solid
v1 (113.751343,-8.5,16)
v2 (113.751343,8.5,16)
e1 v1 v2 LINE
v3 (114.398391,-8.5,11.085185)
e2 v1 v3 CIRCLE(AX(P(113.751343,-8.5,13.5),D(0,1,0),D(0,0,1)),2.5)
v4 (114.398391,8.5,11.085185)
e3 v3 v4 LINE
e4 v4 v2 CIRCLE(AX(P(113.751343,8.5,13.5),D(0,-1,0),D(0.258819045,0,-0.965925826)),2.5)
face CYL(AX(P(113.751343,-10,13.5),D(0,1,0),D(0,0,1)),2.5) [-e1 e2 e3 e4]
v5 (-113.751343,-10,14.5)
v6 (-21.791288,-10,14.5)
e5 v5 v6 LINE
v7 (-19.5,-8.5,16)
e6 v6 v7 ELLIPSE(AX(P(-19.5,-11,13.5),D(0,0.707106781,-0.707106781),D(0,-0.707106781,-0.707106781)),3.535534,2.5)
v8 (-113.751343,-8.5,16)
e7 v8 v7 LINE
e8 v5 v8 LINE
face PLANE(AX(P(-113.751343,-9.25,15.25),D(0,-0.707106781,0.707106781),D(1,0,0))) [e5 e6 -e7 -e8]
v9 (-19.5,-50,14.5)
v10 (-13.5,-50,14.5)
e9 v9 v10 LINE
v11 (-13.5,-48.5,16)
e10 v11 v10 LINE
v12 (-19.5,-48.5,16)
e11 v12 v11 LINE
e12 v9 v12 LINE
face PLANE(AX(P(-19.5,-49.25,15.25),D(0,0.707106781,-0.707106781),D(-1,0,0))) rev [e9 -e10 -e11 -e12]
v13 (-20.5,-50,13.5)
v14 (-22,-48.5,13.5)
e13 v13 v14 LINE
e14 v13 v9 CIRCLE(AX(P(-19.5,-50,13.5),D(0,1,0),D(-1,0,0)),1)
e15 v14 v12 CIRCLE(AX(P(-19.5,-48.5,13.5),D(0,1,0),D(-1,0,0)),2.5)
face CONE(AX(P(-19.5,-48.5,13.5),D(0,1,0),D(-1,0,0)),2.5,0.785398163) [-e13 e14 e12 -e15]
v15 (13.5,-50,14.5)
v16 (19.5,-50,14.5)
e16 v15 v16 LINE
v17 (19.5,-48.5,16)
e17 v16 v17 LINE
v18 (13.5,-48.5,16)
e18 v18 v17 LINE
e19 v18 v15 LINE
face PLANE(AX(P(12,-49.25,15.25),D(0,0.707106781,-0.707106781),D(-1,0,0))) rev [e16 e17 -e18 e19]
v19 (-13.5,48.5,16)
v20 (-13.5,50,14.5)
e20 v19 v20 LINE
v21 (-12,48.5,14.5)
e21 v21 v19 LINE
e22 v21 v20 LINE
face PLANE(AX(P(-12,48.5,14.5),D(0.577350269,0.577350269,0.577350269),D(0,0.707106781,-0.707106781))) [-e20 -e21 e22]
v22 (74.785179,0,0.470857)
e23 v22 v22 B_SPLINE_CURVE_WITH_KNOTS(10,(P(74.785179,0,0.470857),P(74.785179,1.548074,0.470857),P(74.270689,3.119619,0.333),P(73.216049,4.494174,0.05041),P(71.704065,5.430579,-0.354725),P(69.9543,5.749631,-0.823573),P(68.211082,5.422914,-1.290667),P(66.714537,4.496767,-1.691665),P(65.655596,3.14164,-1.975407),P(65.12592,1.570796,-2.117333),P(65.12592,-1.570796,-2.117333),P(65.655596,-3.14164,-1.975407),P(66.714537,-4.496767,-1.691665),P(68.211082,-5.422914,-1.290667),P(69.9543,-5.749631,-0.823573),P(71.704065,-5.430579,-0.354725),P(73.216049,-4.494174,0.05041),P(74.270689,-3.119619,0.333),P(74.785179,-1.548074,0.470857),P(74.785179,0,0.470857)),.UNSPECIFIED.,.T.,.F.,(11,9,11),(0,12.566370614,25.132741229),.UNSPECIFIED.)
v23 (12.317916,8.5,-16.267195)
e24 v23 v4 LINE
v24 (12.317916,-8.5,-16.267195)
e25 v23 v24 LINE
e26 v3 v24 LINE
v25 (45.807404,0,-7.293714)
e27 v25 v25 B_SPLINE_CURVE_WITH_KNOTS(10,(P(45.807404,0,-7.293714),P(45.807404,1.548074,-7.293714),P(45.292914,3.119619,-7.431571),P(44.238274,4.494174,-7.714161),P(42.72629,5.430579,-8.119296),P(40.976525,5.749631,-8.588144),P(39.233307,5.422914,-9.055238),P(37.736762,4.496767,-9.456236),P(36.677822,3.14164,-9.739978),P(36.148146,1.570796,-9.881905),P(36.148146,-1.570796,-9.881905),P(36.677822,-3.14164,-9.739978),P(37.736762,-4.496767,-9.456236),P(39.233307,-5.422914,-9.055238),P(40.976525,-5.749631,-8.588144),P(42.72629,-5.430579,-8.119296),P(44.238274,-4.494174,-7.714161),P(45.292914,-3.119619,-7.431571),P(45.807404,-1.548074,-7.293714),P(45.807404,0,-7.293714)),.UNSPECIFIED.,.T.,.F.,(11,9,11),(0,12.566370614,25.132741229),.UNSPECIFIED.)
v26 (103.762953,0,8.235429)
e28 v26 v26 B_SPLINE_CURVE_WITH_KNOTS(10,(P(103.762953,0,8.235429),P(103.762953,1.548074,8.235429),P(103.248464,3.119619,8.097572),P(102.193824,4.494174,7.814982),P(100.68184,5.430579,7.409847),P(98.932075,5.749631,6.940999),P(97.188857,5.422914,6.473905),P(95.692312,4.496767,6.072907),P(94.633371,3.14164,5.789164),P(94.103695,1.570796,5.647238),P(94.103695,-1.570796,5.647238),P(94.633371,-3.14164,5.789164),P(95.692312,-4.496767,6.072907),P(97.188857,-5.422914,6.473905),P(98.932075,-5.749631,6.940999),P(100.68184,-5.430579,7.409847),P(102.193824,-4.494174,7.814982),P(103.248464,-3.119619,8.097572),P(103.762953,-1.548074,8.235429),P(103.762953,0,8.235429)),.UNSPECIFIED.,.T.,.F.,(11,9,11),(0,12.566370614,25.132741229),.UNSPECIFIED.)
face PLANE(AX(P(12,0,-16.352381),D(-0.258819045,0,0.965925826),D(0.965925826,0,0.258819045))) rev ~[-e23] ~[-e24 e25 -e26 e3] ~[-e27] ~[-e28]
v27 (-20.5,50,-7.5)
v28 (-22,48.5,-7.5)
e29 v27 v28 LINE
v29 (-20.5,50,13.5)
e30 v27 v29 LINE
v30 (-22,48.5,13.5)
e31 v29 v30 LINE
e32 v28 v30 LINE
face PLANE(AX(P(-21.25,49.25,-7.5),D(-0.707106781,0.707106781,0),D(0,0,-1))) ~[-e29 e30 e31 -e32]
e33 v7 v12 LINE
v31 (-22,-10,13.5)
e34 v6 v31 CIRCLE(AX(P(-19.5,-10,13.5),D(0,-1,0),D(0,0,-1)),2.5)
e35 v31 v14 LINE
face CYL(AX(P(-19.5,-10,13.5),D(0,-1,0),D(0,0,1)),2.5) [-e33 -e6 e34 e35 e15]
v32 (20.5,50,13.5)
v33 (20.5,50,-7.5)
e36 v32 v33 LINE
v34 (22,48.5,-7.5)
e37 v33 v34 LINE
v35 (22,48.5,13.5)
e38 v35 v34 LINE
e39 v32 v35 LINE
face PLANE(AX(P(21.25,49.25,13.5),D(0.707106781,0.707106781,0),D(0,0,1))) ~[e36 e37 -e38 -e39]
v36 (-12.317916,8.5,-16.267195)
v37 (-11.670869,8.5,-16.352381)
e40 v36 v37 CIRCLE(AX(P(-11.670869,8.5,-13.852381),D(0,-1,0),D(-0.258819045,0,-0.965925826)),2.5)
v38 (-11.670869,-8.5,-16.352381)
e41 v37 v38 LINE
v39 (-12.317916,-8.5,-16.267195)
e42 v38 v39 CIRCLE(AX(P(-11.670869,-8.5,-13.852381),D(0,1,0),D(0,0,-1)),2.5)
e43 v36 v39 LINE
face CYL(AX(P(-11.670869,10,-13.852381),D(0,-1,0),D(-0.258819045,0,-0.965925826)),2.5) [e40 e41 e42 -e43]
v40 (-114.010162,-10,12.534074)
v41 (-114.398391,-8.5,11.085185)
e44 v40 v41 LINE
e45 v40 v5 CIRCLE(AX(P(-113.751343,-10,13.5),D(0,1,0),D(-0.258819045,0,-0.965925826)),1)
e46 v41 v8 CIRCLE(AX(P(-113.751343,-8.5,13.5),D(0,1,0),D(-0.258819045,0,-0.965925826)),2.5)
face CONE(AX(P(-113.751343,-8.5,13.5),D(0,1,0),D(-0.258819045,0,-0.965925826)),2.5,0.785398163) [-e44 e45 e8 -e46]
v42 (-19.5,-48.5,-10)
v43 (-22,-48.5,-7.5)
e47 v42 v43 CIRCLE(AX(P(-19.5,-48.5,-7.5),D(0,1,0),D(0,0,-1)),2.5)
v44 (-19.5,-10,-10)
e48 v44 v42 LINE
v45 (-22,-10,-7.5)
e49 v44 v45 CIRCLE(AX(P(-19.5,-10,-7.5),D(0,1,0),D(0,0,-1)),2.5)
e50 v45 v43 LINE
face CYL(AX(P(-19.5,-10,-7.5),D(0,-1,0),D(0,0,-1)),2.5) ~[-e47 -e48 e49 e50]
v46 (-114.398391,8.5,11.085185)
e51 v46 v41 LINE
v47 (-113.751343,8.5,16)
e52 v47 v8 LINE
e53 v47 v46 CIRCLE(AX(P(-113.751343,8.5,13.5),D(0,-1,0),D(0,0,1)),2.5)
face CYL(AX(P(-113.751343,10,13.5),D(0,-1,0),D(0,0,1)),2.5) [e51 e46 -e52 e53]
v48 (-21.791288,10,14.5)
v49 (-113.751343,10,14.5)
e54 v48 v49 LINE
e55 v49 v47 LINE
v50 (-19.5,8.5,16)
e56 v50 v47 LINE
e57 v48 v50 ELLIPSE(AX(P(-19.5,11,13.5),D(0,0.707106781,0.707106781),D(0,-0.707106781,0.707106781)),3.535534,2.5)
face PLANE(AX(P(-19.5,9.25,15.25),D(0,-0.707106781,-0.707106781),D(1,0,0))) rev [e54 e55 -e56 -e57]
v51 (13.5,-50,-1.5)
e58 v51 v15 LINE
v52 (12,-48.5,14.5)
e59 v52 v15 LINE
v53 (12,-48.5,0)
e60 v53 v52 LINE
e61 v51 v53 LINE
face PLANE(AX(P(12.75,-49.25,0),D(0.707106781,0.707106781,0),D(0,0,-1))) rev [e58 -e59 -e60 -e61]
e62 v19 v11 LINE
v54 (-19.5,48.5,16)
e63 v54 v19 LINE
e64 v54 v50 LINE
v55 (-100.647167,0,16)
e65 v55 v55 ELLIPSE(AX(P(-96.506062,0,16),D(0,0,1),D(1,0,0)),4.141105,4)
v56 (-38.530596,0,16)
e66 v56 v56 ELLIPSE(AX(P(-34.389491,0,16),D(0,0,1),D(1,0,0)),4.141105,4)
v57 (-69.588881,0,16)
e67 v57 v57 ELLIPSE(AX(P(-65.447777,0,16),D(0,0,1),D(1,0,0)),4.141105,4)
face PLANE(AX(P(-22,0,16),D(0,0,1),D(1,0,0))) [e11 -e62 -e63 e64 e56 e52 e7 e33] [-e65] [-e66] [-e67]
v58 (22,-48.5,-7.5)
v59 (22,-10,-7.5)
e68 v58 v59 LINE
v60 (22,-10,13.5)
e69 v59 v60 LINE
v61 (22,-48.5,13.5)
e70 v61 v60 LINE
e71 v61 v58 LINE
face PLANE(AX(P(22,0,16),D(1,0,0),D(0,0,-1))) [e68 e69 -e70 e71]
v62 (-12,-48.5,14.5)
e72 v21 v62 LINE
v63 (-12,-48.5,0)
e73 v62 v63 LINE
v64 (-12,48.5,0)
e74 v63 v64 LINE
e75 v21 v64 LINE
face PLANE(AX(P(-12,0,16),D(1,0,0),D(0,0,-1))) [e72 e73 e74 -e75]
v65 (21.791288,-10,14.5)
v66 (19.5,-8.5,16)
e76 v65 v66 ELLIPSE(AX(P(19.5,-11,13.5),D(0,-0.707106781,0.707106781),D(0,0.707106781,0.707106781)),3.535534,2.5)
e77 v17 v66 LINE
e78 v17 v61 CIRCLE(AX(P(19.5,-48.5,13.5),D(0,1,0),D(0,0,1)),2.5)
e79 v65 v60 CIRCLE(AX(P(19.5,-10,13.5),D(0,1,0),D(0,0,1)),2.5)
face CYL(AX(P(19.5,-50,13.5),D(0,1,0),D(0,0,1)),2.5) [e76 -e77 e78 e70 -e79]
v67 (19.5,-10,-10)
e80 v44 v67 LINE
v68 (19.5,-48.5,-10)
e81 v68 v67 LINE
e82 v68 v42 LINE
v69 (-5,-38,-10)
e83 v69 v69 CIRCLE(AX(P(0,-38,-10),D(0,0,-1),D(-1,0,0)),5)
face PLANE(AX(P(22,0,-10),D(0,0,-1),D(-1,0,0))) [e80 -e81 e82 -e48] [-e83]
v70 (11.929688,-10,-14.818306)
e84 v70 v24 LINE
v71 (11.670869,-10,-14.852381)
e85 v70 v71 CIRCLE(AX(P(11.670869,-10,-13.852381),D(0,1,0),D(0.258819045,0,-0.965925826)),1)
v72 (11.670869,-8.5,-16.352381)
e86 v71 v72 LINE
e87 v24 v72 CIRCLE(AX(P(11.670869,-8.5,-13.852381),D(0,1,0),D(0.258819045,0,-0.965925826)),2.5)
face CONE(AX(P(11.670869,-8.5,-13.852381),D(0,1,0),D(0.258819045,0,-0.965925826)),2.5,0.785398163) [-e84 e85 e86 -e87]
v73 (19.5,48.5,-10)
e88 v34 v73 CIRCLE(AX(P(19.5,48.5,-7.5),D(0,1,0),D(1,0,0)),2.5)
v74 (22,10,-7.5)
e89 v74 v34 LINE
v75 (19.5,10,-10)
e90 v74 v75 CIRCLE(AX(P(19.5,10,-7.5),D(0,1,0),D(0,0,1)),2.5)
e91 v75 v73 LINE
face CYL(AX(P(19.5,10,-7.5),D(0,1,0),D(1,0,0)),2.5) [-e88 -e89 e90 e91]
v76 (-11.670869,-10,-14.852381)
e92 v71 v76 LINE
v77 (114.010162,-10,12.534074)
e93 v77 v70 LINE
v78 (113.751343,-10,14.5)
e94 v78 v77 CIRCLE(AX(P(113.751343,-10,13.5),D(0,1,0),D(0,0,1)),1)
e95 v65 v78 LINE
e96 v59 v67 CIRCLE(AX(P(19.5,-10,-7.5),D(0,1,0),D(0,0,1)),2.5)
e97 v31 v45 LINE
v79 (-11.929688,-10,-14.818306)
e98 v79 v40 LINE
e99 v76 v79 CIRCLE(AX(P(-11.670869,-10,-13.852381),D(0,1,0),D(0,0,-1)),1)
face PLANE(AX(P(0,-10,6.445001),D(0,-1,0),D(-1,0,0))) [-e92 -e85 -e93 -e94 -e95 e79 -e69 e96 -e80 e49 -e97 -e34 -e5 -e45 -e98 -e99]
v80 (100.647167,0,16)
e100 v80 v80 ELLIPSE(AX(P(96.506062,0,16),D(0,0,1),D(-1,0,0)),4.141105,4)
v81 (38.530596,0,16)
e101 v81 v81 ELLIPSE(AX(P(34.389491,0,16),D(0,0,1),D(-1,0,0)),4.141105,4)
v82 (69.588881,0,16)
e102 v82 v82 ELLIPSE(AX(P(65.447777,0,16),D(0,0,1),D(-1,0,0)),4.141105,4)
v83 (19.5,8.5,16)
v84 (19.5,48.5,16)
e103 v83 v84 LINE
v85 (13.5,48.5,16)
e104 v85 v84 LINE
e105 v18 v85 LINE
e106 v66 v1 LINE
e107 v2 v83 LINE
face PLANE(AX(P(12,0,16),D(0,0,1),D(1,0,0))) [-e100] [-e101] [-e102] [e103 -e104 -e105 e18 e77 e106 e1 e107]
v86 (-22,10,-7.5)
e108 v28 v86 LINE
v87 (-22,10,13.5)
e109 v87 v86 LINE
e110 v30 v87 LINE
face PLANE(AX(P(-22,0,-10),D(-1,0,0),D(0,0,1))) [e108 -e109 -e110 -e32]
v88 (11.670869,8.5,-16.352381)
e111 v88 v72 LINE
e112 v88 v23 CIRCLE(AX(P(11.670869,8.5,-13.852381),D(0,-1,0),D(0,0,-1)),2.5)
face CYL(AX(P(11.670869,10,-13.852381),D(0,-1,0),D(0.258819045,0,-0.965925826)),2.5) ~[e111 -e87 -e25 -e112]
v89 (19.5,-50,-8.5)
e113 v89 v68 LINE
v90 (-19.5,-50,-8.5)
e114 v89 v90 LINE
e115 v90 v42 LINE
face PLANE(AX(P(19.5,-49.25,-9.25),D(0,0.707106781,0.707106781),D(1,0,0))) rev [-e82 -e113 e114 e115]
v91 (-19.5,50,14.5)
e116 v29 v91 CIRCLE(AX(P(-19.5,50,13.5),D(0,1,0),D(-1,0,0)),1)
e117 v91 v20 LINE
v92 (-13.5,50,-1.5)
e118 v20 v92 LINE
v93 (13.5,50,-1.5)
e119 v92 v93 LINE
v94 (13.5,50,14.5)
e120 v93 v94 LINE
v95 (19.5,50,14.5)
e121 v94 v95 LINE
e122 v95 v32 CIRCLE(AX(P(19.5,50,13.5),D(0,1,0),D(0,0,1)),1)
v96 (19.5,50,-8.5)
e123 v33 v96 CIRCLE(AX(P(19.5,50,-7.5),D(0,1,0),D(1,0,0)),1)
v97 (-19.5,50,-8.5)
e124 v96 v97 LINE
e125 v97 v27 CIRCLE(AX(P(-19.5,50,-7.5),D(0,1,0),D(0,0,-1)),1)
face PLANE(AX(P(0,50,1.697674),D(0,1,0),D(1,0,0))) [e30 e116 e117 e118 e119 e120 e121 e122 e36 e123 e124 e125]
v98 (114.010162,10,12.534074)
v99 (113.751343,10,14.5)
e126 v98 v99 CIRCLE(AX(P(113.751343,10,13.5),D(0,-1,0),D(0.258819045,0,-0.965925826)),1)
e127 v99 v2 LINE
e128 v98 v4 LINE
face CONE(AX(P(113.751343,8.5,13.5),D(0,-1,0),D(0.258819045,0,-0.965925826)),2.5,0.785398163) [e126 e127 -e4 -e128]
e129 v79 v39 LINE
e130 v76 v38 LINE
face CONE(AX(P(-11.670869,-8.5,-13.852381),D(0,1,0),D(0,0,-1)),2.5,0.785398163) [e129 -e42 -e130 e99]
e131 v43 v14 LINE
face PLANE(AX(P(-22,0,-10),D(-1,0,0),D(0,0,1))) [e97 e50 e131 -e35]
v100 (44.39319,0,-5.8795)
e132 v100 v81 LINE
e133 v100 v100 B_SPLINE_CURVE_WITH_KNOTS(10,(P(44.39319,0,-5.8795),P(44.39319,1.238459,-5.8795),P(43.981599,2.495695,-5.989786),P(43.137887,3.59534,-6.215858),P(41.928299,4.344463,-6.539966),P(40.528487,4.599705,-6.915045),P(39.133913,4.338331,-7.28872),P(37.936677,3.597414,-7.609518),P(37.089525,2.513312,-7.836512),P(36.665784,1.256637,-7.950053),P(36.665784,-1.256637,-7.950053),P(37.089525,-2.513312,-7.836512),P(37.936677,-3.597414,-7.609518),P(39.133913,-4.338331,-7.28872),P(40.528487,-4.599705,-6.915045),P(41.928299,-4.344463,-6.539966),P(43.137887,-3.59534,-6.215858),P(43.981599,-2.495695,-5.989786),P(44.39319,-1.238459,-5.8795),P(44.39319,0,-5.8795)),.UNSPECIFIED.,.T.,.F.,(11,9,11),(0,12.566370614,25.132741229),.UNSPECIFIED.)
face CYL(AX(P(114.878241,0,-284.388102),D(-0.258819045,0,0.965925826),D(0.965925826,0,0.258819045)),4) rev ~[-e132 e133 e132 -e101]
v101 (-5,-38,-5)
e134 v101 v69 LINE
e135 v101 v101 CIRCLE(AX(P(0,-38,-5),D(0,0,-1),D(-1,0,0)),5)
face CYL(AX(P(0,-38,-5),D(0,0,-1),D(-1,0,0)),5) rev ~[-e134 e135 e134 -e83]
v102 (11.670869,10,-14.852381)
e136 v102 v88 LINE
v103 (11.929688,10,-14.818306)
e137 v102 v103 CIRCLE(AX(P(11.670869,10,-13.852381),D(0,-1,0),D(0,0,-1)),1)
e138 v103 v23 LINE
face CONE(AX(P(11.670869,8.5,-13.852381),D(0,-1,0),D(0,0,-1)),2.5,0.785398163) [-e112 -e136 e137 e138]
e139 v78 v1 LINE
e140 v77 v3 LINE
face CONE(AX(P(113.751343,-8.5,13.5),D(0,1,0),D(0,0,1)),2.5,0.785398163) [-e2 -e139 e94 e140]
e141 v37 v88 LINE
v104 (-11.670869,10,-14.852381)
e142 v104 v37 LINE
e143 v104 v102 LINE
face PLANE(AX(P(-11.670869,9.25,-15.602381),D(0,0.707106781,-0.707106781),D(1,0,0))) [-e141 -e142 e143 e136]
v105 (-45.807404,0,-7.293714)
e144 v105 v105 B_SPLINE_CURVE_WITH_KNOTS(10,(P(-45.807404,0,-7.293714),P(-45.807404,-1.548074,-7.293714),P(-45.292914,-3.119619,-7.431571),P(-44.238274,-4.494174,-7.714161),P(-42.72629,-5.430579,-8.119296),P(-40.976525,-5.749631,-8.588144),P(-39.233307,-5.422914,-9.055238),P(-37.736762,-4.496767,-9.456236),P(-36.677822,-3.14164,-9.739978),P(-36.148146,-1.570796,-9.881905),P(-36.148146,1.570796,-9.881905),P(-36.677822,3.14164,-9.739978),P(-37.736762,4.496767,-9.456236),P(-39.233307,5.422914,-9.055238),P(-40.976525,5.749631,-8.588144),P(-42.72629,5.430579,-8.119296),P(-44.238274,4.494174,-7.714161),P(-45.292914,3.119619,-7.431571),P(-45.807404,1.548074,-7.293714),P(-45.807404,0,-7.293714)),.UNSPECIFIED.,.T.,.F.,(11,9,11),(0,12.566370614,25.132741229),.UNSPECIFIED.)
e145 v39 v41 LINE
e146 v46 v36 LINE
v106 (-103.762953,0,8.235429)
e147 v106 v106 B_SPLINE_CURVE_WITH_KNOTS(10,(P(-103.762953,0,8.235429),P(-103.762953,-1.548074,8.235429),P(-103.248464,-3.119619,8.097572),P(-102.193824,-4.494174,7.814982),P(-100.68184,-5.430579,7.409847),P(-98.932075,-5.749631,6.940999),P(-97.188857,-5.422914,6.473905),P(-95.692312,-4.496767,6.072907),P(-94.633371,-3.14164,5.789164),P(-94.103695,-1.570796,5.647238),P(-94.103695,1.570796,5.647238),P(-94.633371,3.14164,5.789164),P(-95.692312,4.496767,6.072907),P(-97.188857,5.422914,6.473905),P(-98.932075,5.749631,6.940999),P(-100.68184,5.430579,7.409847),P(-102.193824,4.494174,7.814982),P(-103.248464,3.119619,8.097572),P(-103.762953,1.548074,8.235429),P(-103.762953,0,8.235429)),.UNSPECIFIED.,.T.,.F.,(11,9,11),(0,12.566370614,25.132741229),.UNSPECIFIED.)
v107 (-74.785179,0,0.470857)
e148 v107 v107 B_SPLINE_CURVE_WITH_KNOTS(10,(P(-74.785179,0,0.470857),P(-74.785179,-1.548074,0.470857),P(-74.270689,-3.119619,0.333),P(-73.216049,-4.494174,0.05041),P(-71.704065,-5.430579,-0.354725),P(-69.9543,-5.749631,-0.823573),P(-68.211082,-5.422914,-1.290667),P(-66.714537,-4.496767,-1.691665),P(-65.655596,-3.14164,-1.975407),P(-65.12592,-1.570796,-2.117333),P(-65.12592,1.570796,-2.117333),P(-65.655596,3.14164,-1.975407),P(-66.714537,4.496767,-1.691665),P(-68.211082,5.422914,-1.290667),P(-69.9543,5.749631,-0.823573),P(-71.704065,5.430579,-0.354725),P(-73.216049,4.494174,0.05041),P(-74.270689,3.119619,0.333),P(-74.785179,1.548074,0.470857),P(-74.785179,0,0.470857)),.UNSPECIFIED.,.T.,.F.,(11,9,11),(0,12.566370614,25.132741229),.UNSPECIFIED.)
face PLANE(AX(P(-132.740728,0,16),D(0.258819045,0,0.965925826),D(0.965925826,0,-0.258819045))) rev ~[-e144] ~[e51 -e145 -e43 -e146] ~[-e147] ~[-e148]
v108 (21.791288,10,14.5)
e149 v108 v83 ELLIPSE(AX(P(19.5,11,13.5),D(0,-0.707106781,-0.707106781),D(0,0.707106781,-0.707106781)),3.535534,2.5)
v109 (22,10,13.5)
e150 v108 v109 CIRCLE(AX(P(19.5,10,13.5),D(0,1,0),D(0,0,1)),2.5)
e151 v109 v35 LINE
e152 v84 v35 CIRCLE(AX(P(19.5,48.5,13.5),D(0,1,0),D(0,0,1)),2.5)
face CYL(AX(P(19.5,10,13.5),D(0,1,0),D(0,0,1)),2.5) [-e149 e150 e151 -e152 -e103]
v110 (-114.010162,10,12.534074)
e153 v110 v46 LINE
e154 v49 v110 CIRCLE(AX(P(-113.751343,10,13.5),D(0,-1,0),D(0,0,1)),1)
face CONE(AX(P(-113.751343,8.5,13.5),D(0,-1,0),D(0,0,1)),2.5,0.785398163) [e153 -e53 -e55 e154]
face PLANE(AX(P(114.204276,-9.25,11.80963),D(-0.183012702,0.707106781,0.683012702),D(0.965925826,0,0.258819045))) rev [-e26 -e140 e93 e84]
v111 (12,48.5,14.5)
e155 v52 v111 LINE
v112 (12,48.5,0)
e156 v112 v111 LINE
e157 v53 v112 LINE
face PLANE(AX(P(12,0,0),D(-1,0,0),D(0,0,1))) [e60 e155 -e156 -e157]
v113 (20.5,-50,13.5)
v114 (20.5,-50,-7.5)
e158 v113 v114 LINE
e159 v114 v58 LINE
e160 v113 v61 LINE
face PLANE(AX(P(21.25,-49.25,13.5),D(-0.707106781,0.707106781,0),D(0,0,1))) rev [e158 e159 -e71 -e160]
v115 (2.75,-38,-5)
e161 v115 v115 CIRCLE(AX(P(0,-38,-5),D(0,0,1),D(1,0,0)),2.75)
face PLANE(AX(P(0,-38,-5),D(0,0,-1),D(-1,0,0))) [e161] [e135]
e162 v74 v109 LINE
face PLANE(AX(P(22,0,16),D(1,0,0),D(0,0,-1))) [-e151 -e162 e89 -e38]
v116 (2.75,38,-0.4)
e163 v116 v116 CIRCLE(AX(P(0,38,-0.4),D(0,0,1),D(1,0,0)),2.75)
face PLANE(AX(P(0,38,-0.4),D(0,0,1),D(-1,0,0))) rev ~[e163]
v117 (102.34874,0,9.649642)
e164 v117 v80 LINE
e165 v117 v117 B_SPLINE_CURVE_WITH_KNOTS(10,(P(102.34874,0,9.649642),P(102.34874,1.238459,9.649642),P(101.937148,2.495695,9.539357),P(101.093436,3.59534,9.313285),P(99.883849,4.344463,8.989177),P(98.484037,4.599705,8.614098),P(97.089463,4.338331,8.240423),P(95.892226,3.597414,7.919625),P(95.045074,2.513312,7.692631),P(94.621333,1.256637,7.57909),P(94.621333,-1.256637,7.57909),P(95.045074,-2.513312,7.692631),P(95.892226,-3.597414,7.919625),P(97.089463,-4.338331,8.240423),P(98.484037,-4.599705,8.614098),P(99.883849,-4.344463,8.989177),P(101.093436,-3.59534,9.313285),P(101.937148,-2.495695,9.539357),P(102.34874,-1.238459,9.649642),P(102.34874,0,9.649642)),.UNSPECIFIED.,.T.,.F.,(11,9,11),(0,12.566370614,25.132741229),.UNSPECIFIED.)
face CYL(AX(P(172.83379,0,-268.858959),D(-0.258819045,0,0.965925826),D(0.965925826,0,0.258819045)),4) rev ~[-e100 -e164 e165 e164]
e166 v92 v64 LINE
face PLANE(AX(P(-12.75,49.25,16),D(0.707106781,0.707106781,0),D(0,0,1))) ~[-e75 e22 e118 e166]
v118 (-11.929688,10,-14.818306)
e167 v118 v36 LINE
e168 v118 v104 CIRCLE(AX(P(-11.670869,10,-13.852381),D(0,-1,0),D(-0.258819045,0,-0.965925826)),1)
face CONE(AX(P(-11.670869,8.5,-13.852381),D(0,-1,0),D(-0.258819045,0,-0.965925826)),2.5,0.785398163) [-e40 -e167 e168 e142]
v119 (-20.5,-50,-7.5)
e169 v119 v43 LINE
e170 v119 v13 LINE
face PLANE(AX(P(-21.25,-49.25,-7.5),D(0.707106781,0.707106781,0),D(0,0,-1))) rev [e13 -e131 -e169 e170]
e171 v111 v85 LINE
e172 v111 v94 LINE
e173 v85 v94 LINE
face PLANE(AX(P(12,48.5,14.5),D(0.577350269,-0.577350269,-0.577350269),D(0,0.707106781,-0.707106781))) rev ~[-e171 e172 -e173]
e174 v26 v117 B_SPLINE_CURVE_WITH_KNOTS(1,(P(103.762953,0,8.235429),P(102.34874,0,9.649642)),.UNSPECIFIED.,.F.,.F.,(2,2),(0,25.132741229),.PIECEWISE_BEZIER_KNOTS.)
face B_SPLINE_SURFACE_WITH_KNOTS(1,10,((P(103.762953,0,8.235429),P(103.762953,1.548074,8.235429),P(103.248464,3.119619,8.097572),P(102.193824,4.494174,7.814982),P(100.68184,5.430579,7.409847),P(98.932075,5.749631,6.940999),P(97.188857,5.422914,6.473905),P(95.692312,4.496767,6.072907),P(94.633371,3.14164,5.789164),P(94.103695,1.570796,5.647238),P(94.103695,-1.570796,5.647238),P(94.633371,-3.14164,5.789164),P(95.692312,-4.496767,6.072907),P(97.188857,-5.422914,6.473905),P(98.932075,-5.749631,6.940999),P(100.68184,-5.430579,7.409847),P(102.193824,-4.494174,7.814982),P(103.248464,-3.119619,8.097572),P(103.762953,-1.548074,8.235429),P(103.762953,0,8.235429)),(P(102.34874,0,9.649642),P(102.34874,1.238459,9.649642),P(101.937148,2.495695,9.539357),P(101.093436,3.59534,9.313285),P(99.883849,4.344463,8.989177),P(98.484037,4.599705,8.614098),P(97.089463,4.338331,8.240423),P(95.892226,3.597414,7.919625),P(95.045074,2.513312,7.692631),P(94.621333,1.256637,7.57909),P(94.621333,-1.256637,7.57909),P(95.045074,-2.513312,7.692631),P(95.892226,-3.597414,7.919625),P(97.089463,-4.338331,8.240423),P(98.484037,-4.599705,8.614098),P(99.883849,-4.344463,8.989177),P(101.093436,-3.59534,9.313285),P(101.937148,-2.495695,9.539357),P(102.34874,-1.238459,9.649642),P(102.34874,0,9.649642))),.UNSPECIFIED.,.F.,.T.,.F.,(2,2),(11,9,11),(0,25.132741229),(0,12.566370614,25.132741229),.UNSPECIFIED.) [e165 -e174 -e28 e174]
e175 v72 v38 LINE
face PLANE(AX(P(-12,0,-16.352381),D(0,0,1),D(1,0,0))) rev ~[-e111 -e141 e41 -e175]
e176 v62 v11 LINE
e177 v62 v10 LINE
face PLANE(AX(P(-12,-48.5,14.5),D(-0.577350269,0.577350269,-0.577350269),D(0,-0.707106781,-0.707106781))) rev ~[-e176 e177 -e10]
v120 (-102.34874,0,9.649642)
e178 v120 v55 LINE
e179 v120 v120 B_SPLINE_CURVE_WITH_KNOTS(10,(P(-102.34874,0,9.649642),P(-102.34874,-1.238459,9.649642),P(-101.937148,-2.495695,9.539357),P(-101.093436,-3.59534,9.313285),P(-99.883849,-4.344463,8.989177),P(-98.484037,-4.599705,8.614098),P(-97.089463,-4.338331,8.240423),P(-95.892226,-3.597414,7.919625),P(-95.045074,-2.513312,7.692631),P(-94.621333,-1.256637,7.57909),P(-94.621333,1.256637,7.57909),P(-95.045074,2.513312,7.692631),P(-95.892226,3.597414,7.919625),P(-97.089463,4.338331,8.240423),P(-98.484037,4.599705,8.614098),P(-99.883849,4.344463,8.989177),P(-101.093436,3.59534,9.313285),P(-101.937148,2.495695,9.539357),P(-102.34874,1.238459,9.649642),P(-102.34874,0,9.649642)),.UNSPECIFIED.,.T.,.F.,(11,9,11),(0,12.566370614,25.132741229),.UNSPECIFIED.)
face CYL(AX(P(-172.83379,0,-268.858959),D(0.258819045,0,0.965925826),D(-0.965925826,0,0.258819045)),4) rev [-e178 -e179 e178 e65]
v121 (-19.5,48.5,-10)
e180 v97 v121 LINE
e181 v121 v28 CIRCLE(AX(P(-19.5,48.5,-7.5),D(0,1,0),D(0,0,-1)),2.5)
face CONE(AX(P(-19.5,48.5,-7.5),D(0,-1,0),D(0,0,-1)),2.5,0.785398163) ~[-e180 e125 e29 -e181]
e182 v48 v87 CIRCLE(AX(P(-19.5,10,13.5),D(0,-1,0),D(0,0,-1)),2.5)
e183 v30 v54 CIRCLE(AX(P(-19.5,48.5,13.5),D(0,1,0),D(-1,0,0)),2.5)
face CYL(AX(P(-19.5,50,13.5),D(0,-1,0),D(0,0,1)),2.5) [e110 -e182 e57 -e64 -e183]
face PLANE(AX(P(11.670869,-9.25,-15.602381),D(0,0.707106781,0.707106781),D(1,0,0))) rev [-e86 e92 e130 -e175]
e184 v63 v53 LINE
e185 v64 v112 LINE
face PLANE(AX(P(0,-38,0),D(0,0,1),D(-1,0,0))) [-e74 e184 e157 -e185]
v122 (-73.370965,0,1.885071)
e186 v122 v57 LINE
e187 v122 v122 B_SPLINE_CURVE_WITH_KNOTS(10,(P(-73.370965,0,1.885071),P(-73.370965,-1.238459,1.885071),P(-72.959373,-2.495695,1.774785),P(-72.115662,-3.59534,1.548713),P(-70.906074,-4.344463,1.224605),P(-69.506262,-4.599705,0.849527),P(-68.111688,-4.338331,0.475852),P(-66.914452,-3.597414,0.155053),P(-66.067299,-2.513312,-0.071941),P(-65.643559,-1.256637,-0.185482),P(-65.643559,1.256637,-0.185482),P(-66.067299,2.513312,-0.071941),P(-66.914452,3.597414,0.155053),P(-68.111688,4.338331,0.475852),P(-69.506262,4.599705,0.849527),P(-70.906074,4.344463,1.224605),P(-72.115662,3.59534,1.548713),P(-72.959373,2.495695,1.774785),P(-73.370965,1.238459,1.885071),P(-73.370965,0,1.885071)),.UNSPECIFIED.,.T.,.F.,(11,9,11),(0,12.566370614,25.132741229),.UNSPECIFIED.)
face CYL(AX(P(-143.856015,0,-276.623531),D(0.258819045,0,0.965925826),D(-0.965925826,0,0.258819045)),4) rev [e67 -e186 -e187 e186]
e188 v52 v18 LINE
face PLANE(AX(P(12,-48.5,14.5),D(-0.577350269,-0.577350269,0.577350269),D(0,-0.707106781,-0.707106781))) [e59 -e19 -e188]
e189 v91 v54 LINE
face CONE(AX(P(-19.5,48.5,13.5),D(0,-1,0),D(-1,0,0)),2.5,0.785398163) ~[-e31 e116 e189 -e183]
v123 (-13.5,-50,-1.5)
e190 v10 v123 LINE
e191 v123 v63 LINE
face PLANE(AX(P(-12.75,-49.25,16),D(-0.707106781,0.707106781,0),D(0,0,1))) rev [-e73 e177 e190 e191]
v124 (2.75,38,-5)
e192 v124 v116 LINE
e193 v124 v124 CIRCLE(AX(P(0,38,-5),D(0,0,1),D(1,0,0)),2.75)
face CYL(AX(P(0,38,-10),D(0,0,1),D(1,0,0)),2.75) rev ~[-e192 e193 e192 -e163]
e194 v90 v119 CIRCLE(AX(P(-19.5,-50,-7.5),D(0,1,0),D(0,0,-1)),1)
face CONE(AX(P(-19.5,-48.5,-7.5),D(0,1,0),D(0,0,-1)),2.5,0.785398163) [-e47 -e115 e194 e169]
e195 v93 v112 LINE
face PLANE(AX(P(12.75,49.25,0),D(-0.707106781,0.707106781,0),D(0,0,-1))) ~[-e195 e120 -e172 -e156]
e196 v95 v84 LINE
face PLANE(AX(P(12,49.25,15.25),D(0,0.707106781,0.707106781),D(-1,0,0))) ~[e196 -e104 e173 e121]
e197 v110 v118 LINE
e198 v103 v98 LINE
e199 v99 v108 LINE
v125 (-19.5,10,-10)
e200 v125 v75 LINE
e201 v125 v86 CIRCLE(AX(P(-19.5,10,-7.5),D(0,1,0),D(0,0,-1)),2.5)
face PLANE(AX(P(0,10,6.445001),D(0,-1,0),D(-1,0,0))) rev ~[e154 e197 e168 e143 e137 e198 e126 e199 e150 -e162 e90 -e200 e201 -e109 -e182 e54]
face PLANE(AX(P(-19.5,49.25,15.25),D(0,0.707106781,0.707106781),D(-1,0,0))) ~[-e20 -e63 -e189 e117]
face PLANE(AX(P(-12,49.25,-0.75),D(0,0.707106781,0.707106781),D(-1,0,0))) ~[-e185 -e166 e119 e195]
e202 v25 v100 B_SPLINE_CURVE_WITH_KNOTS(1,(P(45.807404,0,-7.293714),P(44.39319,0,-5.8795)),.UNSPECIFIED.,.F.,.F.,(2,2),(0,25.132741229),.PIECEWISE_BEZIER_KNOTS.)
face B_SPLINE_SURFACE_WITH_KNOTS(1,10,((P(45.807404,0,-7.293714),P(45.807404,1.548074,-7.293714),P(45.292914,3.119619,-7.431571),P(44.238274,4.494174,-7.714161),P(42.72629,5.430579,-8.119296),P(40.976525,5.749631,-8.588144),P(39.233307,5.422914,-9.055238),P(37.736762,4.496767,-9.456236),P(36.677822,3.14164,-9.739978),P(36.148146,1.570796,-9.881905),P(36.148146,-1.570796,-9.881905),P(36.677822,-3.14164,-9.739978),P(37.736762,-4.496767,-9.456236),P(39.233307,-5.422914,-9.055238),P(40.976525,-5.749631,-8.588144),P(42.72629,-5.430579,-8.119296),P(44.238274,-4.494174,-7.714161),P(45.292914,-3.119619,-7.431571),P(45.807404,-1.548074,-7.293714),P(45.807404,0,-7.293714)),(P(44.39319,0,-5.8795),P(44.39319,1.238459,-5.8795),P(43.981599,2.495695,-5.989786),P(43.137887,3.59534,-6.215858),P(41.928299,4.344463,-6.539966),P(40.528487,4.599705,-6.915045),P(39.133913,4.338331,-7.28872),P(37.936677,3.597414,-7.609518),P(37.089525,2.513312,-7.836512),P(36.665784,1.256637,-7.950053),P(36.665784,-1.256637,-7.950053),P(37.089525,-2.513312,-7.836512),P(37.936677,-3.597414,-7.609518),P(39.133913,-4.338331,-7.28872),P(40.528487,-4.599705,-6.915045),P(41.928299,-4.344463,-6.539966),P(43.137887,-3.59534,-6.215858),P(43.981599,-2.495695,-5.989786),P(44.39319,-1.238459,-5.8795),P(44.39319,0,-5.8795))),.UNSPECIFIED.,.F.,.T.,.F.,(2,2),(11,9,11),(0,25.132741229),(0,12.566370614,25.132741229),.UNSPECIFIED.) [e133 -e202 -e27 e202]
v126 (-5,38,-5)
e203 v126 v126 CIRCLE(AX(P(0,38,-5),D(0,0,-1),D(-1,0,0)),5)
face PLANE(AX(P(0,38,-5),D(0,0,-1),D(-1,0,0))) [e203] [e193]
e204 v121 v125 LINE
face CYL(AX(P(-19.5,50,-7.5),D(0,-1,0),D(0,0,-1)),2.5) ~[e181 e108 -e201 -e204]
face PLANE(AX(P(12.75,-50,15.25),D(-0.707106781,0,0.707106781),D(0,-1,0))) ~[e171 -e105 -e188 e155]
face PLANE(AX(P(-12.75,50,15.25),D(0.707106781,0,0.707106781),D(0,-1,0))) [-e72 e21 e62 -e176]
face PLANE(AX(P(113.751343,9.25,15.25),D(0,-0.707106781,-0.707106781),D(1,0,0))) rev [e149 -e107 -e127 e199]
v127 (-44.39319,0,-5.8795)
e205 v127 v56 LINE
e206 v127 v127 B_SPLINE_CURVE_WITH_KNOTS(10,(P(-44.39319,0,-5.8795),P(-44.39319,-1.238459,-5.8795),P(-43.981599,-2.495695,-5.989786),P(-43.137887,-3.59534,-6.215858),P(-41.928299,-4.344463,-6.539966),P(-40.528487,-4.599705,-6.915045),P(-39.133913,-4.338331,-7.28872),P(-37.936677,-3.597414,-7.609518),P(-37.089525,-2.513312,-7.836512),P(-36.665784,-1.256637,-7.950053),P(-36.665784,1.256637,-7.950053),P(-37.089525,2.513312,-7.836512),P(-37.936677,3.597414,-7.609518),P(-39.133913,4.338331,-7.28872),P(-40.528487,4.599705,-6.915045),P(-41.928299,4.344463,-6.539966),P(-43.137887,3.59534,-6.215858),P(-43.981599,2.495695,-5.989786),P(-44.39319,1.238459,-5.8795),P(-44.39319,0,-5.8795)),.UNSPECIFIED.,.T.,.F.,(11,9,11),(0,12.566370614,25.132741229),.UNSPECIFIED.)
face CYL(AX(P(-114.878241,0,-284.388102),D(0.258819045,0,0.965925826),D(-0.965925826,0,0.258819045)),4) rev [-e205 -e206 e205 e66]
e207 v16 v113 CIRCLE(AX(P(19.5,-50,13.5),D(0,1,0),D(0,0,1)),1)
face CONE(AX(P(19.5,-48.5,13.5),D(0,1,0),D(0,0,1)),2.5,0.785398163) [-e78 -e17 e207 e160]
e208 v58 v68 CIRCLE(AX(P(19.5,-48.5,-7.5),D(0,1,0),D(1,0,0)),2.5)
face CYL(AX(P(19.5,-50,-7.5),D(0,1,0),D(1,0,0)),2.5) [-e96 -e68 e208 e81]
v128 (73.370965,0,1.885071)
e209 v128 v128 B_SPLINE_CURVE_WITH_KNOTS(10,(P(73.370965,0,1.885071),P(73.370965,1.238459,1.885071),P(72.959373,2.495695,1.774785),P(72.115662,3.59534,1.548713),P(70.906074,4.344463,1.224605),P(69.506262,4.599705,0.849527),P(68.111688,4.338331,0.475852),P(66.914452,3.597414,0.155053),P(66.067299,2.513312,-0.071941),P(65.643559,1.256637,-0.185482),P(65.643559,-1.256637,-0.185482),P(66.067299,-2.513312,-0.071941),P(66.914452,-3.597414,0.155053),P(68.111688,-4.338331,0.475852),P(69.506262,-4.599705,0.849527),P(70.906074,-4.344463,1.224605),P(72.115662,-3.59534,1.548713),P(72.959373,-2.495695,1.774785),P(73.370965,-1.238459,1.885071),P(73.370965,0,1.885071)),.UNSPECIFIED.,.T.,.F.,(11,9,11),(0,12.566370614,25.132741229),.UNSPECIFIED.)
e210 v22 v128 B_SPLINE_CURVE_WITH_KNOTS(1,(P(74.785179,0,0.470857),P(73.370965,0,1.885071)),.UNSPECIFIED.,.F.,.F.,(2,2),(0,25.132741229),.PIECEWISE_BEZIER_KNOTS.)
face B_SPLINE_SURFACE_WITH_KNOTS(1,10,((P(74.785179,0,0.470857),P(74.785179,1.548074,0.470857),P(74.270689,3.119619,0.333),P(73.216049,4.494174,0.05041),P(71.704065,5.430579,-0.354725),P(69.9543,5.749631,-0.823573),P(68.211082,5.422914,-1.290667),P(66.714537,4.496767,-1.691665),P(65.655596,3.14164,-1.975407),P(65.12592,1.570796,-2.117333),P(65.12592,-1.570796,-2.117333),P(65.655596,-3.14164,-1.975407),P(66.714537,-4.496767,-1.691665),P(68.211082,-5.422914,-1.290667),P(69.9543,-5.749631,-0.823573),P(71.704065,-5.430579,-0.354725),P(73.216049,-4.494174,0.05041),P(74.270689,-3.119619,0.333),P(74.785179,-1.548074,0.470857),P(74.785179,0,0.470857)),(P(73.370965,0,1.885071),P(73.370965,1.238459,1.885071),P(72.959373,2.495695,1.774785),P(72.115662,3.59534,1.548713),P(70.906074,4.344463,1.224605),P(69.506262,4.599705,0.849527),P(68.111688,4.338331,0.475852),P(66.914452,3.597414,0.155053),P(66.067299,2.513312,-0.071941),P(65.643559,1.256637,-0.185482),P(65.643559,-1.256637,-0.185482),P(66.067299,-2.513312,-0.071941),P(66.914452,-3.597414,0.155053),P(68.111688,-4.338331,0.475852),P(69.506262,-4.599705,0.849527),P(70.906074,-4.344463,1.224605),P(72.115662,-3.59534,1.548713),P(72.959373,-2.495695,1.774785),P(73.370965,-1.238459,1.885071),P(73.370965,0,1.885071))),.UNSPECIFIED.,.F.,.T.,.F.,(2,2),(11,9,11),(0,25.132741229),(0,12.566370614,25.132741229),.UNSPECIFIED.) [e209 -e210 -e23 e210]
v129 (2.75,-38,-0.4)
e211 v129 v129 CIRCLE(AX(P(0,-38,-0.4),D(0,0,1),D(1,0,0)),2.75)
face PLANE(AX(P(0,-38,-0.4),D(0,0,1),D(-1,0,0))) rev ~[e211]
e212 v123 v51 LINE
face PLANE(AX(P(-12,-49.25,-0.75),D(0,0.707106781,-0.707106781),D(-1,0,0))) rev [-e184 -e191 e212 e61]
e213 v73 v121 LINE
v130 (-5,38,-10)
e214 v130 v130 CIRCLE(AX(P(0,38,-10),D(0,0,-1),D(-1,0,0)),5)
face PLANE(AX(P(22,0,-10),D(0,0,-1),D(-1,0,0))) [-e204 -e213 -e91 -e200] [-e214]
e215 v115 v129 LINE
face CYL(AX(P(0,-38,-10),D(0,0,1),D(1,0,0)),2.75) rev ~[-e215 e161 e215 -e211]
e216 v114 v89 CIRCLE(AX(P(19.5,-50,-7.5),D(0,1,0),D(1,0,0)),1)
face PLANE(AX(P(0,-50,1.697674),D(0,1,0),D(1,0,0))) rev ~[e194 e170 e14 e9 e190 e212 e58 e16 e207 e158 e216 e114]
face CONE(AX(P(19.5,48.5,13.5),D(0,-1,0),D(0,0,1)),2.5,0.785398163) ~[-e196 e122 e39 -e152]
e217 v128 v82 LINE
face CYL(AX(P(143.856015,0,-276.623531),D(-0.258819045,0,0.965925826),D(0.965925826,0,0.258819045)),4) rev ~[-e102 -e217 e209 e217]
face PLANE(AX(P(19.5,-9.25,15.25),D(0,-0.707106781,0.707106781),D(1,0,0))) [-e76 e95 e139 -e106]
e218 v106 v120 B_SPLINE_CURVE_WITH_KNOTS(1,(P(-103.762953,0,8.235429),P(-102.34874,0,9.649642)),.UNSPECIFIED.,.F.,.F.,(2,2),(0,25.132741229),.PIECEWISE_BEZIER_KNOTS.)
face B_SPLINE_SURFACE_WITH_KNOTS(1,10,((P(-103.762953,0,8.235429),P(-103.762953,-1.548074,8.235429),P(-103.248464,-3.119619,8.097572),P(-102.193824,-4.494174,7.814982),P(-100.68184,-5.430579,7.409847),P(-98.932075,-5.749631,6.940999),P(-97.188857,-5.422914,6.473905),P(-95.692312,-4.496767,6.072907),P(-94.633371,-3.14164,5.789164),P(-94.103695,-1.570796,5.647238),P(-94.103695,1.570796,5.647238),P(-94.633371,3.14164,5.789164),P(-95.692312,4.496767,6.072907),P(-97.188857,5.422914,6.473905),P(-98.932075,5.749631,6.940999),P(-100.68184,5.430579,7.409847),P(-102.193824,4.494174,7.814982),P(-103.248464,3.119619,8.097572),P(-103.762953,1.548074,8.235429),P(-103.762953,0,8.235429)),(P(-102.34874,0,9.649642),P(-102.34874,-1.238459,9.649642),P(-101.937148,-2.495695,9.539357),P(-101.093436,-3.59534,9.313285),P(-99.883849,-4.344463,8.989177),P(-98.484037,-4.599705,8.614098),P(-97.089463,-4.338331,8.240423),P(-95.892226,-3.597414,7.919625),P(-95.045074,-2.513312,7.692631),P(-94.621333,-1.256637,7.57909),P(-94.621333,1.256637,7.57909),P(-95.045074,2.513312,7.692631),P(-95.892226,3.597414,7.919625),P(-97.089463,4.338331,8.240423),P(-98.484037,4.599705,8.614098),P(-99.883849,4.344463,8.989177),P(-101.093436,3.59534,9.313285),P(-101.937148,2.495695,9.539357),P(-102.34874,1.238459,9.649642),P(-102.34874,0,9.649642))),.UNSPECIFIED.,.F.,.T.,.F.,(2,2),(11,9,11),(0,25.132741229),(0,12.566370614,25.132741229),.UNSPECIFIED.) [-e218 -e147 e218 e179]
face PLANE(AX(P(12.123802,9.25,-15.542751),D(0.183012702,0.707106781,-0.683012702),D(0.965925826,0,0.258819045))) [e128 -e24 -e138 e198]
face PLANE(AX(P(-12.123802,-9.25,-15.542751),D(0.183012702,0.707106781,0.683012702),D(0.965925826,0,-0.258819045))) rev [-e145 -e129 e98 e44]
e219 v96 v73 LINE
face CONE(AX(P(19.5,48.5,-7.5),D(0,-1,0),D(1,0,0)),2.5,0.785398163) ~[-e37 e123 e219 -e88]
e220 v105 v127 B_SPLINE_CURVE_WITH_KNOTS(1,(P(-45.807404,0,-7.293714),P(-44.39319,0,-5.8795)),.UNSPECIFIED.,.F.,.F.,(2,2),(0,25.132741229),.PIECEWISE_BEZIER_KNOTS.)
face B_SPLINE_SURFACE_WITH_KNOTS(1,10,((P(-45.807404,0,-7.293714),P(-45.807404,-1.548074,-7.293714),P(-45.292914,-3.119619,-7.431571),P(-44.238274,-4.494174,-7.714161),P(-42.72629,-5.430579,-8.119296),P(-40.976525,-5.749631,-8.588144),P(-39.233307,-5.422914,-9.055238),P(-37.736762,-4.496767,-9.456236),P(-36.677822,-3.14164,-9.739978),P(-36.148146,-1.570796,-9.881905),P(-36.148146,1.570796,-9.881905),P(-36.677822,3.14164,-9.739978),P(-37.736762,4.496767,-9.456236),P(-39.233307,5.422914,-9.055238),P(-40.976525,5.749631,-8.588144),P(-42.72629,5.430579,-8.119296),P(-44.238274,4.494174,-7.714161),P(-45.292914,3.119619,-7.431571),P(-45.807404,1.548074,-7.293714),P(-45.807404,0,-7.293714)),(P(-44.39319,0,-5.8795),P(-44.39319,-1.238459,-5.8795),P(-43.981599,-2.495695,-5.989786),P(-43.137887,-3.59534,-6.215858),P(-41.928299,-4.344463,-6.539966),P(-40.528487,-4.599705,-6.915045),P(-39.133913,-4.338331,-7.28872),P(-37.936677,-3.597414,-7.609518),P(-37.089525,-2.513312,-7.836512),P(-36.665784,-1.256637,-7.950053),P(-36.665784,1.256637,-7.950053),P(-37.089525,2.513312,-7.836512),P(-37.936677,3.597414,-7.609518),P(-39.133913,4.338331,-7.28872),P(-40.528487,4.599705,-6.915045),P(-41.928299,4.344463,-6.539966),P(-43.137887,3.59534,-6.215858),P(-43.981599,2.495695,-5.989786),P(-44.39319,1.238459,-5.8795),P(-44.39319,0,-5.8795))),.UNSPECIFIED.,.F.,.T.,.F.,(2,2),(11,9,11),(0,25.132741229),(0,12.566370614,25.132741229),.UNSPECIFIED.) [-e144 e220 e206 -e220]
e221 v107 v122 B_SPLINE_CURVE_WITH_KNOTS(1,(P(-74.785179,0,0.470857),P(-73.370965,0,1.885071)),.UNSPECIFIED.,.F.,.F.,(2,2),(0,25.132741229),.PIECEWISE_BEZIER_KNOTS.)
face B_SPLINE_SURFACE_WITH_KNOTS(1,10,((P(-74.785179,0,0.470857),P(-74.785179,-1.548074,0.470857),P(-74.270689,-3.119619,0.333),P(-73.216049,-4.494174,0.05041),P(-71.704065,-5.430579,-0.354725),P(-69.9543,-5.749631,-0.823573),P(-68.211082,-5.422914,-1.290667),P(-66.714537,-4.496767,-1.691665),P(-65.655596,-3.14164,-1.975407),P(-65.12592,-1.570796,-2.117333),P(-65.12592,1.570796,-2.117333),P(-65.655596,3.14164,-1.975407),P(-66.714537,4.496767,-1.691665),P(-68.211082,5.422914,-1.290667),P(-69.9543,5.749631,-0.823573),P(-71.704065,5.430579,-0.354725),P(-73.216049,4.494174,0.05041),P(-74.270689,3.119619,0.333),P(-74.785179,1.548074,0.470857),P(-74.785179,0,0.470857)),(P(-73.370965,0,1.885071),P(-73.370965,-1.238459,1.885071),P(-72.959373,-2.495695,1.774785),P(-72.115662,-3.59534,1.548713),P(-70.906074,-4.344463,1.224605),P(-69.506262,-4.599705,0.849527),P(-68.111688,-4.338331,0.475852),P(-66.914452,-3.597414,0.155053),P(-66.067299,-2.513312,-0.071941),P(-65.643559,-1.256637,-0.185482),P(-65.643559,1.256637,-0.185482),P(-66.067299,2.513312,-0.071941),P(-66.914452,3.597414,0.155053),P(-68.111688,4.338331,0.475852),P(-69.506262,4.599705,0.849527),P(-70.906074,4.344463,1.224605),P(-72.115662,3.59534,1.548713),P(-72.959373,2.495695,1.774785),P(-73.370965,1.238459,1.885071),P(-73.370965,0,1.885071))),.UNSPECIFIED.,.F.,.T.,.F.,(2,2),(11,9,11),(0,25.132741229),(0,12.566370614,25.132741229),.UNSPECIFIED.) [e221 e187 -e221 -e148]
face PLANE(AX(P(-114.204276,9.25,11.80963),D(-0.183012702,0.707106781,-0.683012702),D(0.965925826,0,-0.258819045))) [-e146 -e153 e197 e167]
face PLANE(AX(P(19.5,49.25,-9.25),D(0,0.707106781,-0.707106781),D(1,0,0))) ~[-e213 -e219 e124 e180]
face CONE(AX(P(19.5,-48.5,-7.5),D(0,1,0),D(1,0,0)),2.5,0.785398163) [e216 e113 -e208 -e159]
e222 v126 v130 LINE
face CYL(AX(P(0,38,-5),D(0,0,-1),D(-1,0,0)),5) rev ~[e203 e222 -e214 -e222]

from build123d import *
from OCP.BRepFilletAPI import BRepFilletAPI_MakeChamfer

# Parameters (mm, degrees)
BOSS_EXTRUDE1_DEPTH            = 10
BOSS_EXTRUDE2_DEPTH            = 50
F_8_0MM_DOWEL_HOLE1_D          = 8
FILLET1_R                      = 2.5
CHAMFER1_SIZE                  = 1.5
CBORE_FOR_M5_SHCS1_D           = 5.5
CBORE_FOR_M5_SHCS1_CBORE_D     = 10
CBORE_FOR_M5_SHCS1_CBORE_DEPTH = 5
SKETCH9_R                      = 2.75
BOSS_EXTRUDE3_DEPTH            = 0.4
CHAMFER2_SIZE                  = 1
CHAMFER2_SIZE2                 = 1.732050808


with BuildPart() as part:
    # Sketch1 → Boss-Extrude1 (new, symmetric)
    with BuildSketch(Plane(origin=(0, 0, 0), x_dir=(1, 0, 0), z_dir=(0, 1, 0))):
        Polygon((12, 0), (-12, 0), (-12, -16), (-132.740728286, -16), (-12, 16.352380638), (12, 16.352380638), (132.740728286, -16), (12, -16), align=None)
    extrude(amount=BOSS_EXTRUDE1_DEPTH, both=True)

    # Sketch2 → Boss-Extrude2 (add, symmetric)
    with BuildSketch(Plane(origin=(0, 0, 0), x_dir=(1, 0, 0), z_dir=(0, 1, 0))):
        Polygon((-12, -16), (-12, 0), (12, 0), (12, -16), (22, -16), (22, 10), (-22, 10), (-22, -16), align=None)
    extrude(amount=BOSS_EXTRUDE2_DEPTH, both=True)

    # Ø8.0mm Dowel Hole1 (through all)
    with Locations(Plane(origin=(4.891942737, 0, -18.256978841), x_dir=(-0.96592582628907, 0, -0.2588190451025143), z_dir=(0.2588190451025143, 0, -0.96592582628907))):
        with Locations((-97.358802374, 0), (-67.358802374, 0), (-37.358802374, 0)):
            f_8_0mm_dowel_hole1 = Hole(F_8_0MM_DOWEL_HOLE1_D / 2)

    # Mirror1: Ø8.0mm Dowel Hole1 across plane
    add(f_8_0mm_dowel_hole1.mirror(Plane(origin=(0, 0, 0), x_dir=(0, 0, 1), z_dir=(1, 0, 0))), mode=Mode.SUBTRACT)

    # Fillet1
    fillet1_edges = [part.edges().sort_by_distance(p)[0] for p in [
        (-132.740728286, 0, 16),
        (-12, 0, -16.352380638),
        (12, 0, -16.352380638),
        (132.740728286, 0, 16),
        (-22, 30, 16),
        (22, 30, 16),
        (22, 30, -10),
        (-22, 30, -10),
        (-22, -30, 16),
        (22, -30, 16),
        (22, -30, -10),
        (-22, -30, -10),
    ]]
    fillet(fillet1_edges, radius=FILLET1_R)

    # Chamfer1
    chamfer1_edges = [part.edges().sort_by_distance(p)[0] for p in [
        (0, 10, -16.352380638),
        (-66.625671502, -10, 16),
        (-63.358153493, -10, -2.591004885),
        (63.358153493, -10, -2.591004885),
        (-116.229955158, -10, 13.826315481),
        (116.229955158, -10, 13.826315481),
        (-11.997184237, -10, -16.330992791),
        (11.997184237, -10, -16.330992791),
        (63.358153493, 10, -2.591004885),
        (-63.358153493, 10, -2.591004885),
        (-66.625671502, 10, 16),
        (-116.229955158, 10, 13.826315481),
        (116.229955158, 10, 13.826315481),
        (-11.997184237, 10, -16.330992791),
        (11.997184237, 10, -16.330992791),
        (-15.75, 50, 16),
        (-15.75, -50, 16),
        (-22, -50, 3),
        (0, -50, -10),
        (22, -50, 3),
        (-21.267766953, -50, -9.267766953),
        (21.267766953, -50, -9.267766953),
        (21.267766953, -50, 15.267766953),
        (-21.267766953, -50, 15.267766953),
        (-22, 50, 3),
        (22, 50, 3),
        (0, 50, -10),
        (-21.267766953, 50, -9.267766953),
        (21.267766953, 50, -9.267766953),
        (21.267766953, 50, 15.267766953),
        (-21.267766953, 50, 15.267766953),
        (-12, 0, 16),
        (12, 0, 16),
        (66.625671502, -10, 16),
        (66.625671502, 10, 16),
        (-12, -50, 8),
        (0, -50, 0),
        (12, -50, 8),
        (15.75, -50, 16),
        (-12, 50, 8),
        (0, 50, 0),
        (12, 50, 8),
        (15.75, 50, 16),
        (0, -10, -16.352380638),
    ]]
    chamfer(chamfer1_edges, length=CHAMFER1_SIZE)

    # CBORE for M5 SHCS1 (through all)
    with Locations(Plane(origin=(0, 0, -10), x_dir=(-1, 0, 0), z_dir=(0, 0, -1))):
        with Locations((0, 38), (0, -38)):
            CounterBoreHole(CBORE_FOR_M5_SHCS1_D / 2, CBORE_FOR_M5_SHCS1_CBORE_D / 2, CBORE_FOR_M5_SHCS1_CBORE_DEPTH)

    # Sketch9 → Boss-Extrude3 (add)
    with BuildSketch(Plane.XY):
        with Locations(Location((0, -38, 0), (0, 0, 180))):
            Circle(SKETCH9_R)
        with Locations(Location((0, 38, 0), (0, 0, 180))):
            Circle(SKETCH9_R)
    extrude(amount=-BOSS_EXTRUDE3_DEPTH)

    # Chamfer2: one chamfer whose edges measure the first distance from different faces: ONE call of the kernel's chamfer builder (chamfer() names one face for all edges)
    chamfer2_edges_1 = [part.edges().sort_by_distance(p)[0] for p in [
        (37.114071484, 0, -9.623085465),
        (66.091846273, 0, -1.858514112),
        (95.069621061, 0, 5.906057241),
    ]]
    chamfer2_side_1 = [part.faces().sort_by_distance(p)[0] for p in [
        (62.753662863, 0, -2.752977661),
    ]]
    chamfer2_edges_2 = [part.edges().sort_by_distance(p)[0] for p in [
        (-37.114071484, 0, -9.623085465),
        (-66.091846273, 0, -1.858514112),
        (-95.069621061, 0, 5.906057241),
    ]]
    chamfer2_side_2 = [part.faces().sort_by_distance(p)[0] for p in [
        (-62.753662863, 0, -2.752977661),
    ]]
    chamfer2 = BRepFilletAPI_MakeChamfer(part.part.solid().wrapped)
    for e in chamfer2_edges_1:
        chamfer2.Add(CHAMFER2_SIZE, CHAMFER2_SIZE2, e.wrapped, chamfer2_side_1[0].wrapped)  # the first distance lies on this face
    for e in chamfer2_edges_2:
        chamfer2.Add(CHAMFER2_SIZE, CHAMFER2_SIZE2, e.wrapped, chamfer2_side_2[0].wrapped)  # the first distance lies on this face
    add(Compound.cast(chamfer2.Shape()), mode=Mode.REPLACE)


solid = part.part
